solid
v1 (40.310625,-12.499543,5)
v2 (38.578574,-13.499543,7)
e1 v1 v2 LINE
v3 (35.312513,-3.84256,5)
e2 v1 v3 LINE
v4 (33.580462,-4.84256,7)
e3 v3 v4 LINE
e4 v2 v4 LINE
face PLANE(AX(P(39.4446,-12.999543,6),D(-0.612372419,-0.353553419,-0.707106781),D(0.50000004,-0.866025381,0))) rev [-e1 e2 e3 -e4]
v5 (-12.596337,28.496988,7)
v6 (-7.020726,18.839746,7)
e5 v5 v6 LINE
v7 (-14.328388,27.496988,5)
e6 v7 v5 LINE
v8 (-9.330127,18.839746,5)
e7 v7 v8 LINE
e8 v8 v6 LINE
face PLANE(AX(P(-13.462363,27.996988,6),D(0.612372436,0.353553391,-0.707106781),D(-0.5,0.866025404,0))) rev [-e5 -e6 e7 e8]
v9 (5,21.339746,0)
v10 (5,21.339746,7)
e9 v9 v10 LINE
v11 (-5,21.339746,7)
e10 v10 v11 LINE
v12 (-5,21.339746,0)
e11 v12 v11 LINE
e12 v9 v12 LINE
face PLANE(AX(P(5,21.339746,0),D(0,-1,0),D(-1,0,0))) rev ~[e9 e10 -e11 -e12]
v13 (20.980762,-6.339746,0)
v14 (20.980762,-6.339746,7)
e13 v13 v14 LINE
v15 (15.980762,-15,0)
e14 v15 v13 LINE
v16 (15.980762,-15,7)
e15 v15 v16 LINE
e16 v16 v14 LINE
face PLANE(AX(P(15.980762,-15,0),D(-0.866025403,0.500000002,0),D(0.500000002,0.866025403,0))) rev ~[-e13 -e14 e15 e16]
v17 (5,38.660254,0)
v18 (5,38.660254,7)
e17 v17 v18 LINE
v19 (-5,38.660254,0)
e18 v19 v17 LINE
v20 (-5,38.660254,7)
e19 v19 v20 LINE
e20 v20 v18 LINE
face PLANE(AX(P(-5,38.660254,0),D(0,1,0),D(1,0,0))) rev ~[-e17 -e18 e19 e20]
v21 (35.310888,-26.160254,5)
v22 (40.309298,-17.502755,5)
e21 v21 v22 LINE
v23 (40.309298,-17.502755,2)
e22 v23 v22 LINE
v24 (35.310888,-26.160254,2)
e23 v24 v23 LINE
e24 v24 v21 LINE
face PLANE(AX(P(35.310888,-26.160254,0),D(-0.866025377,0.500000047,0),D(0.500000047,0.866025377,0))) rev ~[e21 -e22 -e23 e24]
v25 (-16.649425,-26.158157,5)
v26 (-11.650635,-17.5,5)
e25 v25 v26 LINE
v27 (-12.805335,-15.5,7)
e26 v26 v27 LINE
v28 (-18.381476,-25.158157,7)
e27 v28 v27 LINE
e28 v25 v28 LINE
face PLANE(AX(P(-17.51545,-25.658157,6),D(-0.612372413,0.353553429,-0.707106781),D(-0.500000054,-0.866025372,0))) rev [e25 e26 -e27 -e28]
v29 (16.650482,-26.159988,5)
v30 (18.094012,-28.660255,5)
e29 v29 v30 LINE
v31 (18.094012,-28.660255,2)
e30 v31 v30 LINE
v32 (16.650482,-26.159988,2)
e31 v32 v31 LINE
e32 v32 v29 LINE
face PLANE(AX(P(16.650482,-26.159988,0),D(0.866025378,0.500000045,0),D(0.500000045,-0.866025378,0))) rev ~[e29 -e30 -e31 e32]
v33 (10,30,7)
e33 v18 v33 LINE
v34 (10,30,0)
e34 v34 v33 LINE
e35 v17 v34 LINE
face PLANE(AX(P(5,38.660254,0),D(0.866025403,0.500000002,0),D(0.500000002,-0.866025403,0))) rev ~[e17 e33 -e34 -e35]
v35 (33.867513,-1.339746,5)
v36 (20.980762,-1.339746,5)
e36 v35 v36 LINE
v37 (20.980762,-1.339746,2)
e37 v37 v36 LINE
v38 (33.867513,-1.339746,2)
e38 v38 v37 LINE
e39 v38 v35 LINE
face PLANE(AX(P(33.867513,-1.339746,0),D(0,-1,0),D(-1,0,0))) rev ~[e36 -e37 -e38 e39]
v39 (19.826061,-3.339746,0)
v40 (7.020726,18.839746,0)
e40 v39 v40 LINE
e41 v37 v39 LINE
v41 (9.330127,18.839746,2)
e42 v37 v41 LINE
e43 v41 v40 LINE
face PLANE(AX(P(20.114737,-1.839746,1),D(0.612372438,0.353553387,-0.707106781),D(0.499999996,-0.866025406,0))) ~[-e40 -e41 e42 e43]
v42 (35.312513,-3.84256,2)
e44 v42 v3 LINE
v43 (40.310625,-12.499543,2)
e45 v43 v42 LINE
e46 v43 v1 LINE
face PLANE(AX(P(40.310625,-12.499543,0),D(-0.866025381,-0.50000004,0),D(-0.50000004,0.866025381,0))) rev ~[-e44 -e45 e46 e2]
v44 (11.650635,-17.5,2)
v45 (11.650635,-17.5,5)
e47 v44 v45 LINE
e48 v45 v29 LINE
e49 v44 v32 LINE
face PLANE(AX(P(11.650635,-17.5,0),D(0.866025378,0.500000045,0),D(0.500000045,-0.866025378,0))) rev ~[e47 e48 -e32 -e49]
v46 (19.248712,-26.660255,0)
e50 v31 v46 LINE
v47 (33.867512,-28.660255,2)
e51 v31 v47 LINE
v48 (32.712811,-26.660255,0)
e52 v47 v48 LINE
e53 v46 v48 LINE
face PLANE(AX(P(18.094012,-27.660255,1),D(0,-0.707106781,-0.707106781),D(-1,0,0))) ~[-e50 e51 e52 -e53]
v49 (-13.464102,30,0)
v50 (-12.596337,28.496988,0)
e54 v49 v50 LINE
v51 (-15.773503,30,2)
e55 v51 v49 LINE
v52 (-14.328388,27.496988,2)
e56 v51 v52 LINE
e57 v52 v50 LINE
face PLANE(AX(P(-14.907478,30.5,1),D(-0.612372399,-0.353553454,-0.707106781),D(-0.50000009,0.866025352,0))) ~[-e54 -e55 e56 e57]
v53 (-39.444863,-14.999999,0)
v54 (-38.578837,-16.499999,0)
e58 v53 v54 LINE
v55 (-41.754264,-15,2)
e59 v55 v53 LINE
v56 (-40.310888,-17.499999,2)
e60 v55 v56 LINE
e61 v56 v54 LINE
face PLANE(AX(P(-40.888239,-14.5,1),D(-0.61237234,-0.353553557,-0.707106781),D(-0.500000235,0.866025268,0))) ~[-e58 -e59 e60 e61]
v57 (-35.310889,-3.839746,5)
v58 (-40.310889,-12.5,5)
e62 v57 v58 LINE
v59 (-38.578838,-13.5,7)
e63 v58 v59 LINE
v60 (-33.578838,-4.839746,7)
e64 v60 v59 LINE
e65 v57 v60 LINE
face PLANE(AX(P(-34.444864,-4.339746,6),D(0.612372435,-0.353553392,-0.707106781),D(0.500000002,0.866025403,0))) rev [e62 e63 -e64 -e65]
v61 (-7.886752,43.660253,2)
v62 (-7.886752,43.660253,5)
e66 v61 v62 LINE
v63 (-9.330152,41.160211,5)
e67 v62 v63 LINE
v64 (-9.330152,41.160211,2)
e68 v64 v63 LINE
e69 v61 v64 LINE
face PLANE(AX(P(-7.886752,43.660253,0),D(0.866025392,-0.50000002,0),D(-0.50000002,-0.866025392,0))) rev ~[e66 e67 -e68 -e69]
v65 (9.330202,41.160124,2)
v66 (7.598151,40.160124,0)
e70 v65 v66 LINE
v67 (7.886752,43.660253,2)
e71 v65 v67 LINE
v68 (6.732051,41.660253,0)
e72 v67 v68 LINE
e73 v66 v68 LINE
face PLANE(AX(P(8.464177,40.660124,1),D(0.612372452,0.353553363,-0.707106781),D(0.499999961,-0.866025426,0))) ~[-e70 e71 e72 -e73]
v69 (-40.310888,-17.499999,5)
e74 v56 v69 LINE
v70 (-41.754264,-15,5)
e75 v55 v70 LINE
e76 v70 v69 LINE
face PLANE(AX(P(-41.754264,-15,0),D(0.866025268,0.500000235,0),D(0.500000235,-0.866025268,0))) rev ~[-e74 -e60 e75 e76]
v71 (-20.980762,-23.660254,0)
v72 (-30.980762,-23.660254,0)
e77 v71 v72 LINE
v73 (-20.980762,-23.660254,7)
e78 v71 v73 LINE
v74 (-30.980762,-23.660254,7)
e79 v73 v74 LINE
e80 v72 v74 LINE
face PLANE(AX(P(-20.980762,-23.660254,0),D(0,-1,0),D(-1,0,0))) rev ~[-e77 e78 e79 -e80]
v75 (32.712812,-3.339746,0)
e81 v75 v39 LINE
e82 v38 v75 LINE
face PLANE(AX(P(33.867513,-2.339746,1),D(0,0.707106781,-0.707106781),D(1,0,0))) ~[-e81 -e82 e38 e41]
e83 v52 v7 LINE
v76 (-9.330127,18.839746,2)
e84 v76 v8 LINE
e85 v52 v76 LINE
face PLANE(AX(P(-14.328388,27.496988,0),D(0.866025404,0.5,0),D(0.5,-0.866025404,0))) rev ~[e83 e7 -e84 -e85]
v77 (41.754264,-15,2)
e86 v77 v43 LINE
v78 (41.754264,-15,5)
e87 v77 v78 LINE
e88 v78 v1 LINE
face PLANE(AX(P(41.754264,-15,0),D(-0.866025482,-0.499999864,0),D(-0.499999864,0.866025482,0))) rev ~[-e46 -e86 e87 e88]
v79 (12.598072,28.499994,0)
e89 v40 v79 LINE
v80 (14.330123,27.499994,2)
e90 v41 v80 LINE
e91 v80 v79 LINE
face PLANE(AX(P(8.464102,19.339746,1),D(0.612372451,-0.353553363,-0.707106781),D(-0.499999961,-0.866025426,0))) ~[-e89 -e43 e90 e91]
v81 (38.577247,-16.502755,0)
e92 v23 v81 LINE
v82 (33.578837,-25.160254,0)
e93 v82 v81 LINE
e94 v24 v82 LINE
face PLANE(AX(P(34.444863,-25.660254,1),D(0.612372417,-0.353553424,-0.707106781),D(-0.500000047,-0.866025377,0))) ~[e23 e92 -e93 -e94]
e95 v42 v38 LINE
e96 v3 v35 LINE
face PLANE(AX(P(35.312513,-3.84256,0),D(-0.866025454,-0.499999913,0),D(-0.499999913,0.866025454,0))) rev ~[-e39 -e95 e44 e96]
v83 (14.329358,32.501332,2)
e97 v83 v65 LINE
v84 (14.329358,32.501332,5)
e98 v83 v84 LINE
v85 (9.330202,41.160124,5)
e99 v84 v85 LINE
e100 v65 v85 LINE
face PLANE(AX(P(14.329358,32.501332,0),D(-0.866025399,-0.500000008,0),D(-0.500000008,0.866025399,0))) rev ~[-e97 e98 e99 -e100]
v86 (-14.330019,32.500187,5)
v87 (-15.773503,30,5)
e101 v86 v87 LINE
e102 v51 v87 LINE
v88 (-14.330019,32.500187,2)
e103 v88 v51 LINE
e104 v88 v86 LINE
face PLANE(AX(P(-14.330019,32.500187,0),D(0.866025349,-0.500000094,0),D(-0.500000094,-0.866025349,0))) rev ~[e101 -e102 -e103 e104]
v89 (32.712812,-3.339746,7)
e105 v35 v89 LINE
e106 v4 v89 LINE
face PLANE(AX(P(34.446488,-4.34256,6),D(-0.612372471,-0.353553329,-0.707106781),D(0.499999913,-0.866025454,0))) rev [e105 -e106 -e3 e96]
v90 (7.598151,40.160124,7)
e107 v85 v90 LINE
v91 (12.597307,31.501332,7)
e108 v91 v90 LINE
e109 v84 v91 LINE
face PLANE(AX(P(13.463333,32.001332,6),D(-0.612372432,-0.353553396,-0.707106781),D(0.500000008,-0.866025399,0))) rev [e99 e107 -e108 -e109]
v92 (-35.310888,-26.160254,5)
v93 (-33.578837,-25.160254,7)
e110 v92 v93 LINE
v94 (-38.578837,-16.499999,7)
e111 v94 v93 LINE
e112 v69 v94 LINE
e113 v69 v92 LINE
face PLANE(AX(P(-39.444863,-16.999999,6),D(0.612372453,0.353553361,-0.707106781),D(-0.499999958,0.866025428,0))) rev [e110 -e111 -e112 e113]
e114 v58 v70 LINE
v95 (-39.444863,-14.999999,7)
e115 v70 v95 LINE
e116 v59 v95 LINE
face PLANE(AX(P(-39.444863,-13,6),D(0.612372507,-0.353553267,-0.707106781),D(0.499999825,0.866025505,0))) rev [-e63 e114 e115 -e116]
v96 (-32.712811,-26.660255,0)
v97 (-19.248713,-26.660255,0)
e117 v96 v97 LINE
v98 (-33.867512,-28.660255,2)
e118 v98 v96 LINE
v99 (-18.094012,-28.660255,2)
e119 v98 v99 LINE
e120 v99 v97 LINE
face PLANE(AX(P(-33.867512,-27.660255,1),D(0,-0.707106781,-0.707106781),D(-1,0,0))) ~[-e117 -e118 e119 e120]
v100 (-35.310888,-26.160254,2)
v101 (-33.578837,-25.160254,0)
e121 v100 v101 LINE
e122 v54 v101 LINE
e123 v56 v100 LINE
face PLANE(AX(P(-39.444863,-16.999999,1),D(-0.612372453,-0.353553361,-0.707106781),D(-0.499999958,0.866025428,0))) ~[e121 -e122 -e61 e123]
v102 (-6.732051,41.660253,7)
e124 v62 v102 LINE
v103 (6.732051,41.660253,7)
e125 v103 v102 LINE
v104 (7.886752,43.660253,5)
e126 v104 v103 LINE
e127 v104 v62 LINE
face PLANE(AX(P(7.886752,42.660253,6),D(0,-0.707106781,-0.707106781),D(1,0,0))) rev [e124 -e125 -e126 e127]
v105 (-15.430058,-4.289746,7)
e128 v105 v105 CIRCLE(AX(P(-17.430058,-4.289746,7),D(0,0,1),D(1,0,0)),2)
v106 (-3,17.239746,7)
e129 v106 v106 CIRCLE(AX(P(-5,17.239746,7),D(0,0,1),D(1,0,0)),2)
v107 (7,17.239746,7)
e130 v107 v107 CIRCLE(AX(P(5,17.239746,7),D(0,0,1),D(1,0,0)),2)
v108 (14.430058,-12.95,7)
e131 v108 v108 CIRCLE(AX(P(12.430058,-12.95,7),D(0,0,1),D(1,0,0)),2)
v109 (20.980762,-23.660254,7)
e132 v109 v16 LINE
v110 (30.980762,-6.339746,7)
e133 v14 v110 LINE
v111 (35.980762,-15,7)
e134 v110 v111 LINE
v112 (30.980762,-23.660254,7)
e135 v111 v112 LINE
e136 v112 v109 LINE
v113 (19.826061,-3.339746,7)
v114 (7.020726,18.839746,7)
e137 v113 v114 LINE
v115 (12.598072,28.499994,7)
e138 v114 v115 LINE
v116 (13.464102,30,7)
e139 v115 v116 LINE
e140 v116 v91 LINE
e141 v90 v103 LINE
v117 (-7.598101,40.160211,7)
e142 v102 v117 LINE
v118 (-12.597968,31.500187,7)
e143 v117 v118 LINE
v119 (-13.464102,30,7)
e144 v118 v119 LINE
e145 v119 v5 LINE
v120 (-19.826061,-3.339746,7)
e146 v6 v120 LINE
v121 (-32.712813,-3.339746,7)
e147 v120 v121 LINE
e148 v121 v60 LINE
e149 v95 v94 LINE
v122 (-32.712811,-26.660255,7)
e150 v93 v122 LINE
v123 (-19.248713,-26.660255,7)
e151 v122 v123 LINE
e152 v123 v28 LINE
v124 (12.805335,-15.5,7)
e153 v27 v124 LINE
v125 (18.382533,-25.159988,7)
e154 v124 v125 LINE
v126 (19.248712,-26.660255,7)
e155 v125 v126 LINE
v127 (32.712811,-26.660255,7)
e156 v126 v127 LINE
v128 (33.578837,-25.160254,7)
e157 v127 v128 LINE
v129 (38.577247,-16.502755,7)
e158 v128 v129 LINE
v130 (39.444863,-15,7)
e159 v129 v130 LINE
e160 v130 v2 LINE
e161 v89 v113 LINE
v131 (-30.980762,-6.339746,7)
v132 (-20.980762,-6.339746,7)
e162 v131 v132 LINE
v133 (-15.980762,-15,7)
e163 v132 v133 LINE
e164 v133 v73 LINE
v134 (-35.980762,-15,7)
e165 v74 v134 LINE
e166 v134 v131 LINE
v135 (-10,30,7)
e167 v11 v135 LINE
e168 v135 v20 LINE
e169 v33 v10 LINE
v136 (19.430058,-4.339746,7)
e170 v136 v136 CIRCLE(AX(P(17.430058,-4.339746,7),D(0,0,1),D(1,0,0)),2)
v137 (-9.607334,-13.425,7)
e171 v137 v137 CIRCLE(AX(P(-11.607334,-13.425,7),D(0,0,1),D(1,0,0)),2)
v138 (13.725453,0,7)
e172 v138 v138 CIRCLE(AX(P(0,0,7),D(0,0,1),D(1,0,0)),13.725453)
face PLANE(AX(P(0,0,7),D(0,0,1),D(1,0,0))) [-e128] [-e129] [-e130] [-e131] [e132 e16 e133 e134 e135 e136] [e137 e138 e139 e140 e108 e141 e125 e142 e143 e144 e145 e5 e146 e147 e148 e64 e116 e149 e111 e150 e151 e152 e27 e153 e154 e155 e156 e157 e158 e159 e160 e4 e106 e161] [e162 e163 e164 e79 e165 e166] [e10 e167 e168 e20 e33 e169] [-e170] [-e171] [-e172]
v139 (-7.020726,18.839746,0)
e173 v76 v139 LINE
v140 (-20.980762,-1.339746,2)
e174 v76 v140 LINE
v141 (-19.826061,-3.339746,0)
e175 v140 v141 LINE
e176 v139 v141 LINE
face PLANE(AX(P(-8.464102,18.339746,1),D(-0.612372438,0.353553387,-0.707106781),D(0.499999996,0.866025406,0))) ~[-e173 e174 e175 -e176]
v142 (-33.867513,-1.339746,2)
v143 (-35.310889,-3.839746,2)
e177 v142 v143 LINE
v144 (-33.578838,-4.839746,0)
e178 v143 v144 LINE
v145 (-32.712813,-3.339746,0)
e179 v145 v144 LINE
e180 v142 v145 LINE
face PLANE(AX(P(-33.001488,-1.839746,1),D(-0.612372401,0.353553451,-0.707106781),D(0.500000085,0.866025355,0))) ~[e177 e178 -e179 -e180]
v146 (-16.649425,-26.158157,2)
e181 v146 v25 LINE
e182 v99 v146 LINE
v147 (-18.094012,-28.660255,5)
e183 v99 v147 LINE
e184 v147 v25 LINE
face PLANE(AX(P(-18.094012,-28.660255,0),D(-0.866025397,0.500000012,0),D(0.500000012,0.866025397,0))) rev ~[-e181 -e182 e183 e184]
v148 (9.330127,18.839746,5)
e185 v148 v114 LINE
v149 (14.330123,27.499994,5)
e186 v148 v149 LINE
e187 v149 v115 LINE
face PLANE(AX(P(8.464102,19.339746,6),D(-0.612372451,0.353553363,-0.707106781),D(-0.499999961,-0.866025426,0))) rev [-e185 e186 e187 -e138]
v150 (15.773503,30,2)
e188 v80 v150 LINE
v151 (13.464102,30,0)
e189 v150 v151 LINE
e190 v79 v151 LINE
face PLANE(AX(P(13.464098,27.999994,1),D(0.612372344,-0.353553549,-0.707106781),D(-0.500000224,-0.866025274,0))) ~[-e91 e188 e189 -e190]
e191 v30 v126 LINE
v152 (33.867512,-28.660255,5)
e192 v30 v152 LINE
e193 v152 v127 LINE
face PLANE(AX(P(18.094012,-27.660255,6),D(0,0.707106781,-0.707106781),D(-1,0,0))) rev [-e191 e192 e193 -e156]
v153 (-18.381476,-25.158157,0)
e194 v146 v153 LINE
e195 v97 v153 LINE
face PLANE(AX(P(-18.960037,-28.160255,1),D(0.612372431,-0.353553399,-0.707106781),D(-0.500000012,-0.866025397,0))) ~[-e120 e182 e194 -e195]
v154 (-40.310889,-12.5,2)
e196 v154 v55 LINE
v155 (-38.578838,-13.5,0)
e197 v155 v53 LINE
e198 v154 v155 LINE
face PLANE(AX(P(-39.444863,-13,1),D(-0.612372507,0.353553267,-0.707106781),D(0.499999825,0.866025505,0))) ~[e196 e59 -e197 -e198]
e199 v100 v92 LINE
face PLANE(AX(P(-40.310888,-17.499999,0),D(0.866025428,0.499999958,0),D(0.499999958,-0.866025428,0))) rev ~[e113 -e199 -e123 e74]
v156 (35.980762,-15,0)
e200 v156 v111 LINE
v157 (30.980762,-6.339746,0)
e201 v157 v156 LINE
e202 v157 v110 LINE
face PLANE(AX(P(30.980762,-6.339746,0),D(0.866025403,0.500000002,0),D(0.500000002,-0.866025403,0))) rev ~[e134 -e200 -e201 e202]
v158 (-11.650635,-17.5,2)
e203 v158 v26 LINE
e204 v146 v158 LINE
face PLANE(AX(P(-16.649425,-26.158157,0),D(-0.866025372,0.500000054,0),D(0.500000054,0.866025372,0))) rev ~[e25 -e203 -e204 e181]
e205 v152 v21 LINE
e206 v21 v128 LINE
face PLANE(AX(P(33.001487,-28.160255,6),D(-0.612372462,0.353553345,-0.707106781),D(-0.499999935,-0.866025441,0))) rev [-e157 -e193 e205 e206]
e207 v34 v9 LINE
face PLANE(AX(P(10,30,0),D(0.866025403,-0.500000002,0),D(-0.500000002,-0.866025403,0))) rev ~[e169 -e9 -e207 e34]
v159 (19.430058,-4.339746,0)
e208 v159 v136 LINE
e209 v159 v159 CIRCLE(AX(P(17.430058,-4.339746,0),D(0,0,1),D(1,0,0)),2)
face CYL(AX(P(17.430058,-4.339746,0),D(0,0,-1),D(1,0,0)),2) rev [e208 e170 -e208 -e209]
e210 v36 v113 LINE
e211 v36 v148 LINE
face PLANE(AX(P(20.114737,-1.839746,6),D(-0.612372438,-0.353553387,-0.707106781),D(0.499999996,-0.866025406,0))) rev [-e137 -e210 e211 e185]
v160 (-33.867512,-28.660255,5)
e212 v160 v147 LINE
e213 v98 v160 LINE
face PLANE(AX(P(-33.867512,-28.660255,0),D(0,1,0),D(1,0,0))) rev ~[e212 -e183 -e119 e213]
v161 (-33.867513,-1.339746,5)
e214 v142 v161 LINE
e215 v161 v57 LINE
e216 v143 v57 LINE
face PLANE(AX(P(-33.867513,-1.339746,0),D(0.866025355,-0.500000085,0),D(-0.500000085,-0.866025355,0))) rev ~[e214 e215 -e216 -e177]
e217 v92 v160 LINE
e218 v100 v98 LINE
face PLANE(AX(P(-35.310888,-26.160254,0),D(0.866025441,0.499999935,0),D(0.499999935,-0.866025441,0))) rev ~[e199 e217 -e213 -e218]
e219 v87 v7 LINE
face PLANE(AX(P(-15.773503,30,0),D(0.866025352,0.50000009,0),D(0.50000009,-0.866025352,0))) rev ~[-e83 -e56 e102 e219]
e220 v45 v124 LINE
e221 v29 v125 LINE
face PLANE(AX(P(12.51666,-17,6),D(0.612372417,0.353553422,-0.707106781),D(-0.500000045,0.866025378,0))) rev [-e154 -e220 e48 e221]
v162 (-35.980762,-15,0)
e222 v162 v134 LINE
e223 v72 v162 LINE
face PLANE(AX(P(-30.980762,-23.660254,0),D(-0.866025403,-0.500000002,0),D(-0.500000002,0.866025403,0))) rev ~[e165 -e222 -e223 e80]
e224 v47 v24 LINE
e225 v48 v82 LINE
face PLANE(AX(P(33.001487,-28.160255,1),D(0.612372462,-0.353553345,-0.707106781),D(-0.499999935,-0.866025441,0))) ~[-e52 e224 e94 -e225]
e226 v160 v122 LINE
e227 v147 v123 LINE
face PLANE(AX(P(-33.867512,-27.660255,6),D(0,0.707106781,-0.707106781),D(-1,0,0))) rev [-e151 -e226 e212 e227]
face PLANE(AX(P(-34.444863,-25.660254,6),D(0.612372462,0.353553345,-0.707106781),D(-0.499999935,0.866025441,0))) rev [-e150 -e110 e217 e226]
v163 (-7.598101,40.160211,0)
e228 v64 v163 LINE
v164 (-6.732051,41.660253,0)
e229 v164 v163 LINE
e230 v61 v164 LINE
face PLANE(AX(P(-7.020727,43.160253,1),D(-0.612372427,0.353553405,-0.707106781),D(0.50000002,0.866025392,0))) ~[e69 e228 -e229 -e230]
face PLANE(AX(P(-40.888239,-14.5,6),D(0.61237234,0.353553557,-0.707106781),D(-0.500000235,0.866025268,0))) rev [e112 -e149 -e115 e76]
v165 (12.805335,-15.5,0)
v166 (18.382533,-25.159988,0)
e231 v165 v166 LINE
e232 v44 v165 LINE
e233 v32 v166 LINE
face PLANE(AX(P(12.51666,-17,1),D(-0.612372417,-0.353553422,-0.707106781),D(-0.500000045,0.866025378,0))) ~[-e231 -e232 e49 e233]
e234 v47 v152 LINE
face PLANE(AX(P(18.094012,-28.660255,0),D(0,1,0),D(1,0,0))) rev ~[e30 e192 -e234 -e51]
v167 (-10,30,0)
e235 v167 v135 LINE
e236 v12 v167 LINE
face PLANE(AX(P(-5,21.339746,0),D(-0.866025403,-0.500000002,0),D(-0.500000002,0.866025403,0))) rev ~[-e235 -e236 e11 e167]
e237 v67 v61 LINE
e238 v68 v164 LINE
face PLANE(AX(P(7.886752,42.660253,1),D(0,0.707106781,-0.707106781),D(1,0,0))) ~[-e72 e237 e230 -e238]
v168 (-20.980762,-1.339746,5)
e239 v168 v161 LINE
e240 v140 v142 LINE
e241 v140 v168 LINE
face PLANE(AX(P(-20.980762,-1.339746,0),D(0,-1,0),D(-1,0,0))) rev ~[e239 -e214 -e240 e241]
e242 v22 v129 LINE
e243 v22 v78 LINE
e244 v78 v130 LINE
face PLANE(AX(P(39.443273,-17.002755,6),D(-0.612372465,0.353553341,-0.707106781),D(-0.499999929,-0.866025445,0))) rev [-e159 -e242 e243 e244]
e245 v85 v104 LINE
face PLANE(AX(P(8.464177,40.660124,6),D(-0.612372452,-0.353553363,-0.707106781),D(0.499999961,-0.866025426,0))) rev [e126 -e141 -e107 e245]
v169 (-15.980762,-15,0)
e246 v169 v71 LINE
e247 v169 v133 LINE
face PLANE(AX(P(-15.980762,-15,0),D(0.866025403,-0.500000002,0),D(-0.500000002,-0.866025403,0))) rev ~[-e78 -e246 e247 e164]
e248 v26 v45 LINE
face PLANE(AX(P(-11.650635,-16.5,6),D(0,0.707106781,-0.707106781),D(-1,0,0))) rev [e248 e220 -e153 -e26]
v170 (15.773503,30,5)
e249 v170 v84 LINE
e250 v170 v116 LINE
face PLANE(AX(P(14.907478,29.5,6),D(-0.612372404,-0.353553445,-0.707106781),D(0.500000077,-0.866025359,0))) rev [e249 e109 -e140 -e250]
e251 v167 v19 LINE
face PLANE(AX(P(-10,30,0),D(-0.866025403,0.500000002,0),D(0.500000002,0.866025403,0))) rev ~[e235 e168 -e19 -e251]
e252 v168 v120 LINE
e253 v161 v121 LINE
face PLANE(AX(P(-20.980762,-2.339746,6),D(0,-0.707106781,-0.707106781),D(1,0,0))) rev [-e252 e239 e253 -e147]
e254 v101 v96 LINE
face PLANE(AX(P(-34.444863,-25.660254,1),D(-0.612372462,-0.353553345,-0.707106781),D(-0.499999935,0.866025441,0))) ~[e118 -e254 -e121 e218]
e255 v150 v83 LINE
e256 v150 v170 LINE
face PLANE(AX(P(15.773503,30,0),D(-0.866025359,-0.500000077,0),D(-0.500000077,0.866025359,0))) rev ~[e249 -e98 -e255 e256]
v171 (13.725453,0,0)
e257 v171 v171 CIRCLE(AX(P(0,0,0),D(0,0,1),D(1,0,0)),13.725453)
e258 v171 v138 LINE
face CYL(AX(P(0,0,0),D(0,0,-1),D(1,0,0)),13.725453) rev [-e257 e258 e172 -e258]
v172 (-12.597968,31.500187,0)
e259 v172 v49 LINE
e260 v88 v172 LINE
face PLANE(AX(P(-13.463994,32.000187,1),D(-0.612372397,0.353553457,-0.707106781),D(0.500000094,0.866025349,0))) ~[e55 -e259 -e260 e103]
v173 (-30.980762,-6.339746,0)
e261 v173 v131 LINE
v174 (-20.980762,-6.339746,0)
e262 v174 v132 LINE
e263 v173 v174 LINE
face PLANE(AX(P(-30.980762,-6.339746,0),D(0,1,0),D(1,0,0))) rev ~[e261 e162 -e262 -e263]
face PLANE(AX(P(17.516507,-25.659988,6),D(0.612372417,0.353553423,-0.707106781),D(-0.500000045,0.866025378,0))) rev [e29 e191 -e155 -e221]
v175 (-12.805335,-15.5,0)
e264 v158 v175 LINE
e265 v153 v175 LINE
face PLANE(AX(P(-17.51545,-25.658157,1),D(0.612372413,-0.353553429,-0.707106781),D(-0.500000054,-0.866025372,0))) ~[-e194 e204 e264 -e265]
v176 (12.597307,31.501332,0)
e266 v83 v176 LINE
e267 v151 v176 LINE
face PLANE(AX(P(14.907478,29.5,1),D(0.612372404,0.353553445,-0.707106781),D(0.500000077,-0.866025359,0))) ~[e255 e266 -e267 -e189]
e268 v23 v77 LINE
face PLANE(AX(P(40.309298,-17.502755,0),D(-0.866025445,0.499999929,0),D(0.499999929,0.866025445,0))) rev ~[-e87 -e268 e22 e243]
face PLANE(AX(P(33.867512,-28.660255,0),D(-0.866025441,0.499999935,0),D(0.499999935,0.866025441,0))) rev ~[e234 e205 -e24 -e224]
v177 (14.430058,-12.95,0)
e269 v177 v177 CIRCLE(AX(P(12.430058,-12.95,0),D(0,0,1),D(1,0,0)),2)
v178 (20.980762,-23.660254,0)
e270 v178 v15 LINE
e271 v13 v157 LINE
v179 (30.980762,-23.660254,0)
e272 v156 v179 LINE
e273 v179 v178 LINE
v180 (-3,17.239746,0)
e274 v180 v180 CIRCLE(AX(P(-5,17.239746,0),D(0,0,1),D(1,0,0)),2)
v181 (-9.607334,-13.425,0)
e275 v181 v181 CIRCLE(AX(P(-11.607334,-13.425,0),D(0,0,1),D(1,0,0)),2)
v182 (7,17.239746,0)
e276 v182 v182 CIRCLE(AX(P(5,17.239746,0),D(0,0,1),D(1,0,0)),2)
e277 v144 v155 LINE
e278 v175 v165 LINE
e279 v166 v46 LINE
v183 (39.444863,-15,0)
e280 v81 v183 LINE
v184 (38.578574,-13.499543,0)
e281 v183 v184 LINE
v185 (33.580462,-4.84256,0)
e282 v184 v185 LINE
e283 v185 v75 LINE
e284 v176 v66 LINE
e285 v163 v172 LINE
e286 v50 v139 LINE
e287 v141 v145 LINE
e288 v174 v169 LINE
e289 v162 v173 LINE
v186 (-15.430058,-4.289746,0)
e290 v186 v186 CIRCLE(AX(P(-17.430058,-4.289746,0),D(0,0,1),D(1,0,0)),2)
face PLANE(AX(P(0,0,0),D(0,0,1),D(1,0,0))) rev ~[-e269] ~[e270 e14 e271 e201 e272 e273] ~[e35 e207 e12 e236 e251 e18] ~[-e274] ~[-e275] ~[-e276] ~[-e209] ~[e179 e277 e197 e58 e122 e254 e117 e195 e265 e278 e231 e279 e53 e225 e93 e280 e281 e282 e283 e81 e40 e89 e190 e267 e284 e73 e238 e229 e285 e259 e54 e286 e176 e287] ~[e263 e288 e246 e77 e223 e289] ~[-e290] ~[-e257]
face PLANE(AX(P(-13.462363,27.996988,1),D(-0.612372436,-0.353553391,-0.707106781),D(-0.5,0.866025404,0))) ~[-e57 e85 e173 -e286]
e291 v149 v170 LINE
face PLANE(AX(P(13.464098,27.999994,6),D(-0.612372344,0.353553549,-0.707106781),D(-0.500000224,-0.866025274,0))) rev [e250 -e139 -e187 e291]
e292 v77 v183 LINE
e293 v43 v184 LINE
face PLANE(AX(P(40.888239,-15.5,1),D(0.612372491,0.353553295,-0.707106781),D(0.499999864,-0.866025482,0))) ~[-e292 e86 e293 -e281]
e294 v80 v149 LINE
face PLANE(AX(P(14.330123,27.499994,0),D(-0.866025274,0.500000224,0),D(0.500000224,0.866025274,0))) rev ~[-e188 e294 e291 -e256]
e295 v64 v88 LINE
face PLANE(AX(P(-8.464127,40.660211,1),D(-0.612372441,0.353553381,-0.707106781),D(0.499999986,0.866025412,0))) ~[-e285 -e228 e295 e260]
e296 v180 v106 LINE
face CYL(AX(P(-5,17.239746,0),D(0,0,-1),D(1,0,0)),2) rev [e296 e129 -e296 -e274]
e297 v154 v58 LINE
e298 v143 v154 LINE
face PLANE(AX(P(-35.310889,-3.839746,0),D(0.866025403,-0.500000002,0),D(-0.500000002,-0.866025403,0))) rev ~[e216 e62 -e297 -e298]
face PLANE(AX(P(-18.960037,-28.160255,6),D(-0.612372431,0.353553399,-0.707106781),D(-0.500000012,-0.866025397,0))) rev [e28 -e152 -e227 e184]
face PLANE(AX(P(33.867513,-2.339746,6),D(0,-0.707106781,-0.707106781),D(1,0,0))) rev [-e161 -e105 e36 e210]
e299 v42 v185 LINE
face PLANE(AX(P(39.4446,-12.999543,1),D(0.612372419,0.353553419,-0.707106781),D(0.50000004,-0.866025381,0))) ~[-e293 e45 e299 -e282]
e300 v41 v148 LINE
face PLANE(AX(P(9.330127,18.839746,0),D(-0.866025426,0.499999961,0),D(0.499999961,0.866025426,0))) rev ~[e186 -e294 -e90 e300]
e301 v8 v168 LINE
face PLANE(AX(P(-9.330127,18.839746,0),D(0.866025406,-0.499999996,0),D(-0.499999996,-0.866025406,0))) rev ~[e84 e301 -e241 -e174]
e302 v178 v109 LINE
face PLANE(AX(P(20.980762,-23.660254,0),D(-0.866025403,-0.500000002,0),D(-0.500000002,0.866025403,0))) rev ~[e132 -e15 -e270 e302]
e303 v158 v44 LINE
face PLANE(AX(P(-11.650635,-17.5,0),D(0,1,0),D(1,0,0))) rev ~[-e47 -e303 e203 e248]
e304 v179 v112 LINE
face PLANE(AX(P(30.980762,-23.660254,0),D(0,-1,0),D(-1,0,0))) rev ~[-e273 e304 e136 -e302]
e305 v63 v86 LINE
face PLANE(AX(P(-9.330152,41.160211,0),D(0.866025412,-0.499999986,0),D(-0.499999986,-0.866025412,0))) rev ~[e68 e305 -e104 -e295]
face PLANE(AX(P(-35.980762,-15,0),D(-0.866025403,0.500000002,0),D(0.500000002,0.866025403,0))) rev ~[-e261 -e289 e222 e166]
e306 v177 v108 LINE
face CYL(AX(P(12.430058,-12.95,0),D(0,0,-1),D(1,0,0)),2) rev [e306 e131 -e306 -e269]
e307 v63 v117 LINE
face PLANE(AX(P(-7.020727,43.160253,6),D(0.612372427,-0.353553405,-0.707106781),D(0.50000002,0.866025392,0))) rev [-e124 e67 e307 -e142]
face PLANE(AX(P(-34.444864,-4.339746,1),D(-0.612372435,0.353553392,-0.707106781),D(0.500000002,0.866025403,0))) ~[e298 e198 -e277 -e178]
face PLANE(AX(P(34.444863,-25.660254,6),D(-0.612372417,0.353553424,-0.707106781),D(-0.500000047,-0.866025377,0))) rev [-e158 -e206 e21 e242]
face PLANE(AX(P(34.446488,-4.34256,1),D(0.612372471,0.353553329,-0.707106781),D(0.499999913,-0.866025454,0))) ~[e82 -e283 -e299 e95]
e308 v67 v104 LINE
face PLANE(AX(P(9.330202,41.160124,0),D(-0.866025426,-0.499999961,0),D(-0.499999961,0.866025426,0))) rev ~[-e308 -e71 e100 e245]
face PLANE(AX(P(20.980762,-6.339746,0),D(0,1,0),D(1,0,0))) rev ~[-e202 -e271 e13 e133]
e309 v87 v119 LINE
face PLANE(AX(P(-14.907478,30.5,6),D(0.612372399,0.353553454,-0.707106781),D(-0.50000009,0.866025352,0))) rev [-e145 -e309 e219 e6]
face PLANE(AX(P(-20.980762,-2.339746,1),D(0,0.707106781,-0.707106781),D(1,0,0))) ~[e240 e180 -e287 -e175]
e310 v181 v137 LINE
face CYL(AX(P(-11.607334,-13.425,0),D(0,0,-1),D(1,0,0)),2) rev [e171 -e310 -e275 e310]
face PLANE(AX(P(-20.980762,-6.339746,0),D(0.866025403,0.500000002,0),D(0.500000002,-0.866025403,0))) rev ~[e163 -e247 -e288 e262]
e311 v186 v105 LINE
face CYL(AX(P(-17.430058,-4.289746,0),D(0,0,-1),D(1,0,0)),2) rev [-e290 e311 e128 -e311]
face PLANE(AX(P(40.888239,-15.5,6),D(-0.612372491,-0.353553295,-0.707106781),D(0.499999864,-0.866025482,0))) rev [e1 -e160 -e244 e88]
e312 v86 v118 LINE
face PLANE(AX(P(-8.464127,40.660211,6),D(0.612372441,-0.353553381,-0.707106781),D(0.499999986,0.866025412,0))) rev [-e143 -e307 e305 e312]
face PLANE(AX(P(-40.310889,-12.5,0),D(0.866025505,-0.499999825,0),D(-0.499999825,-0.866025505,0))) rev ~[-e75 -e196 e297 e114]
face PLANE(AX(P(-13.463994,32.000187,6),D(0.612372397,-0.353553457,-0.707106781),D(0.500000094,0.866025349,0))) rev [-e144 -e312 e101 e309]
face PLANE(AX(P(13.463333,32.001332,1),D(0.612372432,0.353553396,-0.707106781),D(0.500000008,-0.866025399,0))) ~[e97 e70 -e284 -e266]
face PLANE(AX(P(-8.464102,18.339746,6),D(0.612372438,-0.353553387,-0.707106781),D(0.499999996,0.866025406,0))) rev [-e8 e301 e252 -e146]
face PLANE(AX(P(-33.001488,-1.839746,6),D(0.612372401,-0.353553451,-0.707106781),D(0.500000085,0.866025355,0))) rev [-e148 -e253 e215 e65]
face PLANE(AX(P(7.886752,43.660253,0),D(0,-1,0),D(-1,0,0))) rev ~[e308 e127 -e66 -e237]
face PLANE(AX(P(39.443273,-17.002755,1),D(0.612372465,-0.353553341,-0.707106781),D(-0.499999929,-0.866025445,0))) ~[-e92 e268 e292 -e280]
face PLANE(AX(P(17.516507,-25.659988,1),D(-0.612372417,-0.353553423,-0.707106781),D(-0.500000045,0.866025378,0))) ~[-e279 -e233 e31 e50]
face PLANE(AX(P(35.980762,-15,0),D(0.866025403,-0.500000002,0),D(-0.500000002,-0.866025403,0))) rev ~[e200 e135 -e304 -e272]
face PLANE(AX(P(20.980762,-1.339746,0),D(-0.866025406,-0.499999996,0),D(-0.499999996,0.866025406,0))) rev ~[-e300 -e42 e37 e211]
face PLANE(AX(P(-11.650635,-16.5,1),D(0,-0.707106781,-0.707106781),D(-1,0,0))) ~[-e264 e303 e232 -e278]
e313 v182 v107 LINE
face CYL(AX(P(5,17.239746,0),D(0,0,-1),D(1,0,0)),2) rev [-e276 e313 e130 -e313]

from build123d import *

# Parameters (mm, degrees)
F0_R     = 2
F0_R_2   = 13.725453
F1_DEPTH = 7
F2_SIZE  = 2


with BuildPart() as f1:
    # F0 (on Top) → F1 (new body)
    with BuildSketch(Plane.XY):
        Polygon((5, 43.660253), (-5, 43.660253), (-7.886752, 43.660253), (-9.330152, 41.160211), (-14.330019, 32.500187), (-15.773503, 30), (-14.328388, 27.496988), (-9.330127, 18.839746), (-20.980762, -1.339746), (-30.980762, -1.339746), (-33.867513, -1.339746), (-35.310889, -3.839746), (-40.310889, -12.5), (-41.754264, -15), (-40.310888, -17.499999), (-35.310888, -26.160254), (-33.867512, -28.660255), (-30.980762, -28.660255), (-20.980762, -28.660255), (-18.094012, -28.660255), (-16.649425, -26.158157), (-11.650635, -17.5), (11.650635, -17.5), (16.650482, -26.159988), (18.094012, -28.660255), (20.980762, -28.660255), (30.980762, -28.660255), (33.867512, -28.660255), (35.310888, -26.160254), (40.309298, -17.502755), (41.754264, -15), (40.310625, -12.499543), (35.312513, -3.84256), (33.867513, -1.339746), (30.980762, -1.339746), (20.980762, -1.339746), (9.330127, 18.839746), (14.330123, 27.499994), (15.773503, 30), (14.329358, 32.501332), (9.330202, 41.160124), (7.886752, 43.660253), align=None)
        Polygon((-30.980762, -6.339746), (-20.980762, -6.339746), (-15.980762, -15), (-20.980762, -23.660254), (-30.980762, -23.660254), (-35.980762, -15), align=None, mode=Mode.SUBTRACT)
        with Locations((-11.607334, -13.425)):
            Circle(F0_R, mode=Mode.SUBTRACT)
        with Locations((-17.430058, -4.289746)):
            Circle(F0_R, mode=Mode.SUBTRACT)
        Circle(F0_R_2, mode=Mode.SUBTRACT)
        with Locations((12.430058, -12.95)):
            Circle(F0_R, mode=Mode.SUBTRACT)
        Polygon((20.980762, -23.660254), (15.980762, -15), (20.980762, -6.339746), (30.980762, -6.339746), (35.980762, -15), (30.980762, -23.660254), align=None, mode=Mode.SUBTRACT)
        with Locations((17.430058, -4.339746)):
            Circle(F0_R, mode=Mode.SUBTRACT)
        with Locations((-5, 17.239746)):
            Circle(F0_R, mode=Mode.SUBTRACT)
        Polygon((10, 30), (5, 21.339746), (-5, 21.339746), (-10, 30), (-5, 38.660254), (5, 38.660254), align=None, mode=Mode.SUBTRACT)
        with Locations((5, 17.239746)):
            Circle(F0_R, mode=Mode.SUBTRACT)
    extrude(amount=F1_DEPTH)

    # F2
    f2_edges = [f1.edges().sort_by_distance(p)[0] for p in [
        (-11.830127, 36.830127, 7),
        (0, 43.660253, 7),
        (-12.551815, 24.419873, 7),
        (11.830127, 36.830127, 7),
        (12.551815, 24.419873, 7),
        (15.155444, 8.75, 7),
        (27.424137, -1.339746, 7),
        (37.810888, -8.169873, 7),
        (37.810888, -21.830127, 7),
        (25.980762, -28.660255, 7),
        (14.872323, -23.080127, 7),
        (0, -17.5, 7),
        (-14.872323, -23.080127, 7),
        (-25.980762, -28.660255, 7),
        (-37.810888, -21.830127, 7),
        (-37.810888, -8.169873, 7),
        (-27.424137, -1.339746, 7),
        (-15.155444, 8.75, 7),
        (-27.424137, -1.339746, 0),
        (-37.810888, -8.169873, 0),
        (-37.810888, -21.830127, 0),
        (-25.980762, -28.660255, 0),
        (-14.872323, -23.080127, 0),
        (0, -17.5, 0),
        (14.872323, -23.080127, 0),
        (25.980762, -28.660255, 0),
        (37.810888, -21.830127, 0),
        (37.810888, -8.169873, 0),
        (27.424137, -1.339746, 0),
        (15.155444, 8.75, 0),
        (12.551815, 24.419873, 0),
        (11.830127, 36.830127, 0),
        (0, 43.660253, 0),
        (-11.830127, 36.830127, 0),
        (-12.551815, 24.419873, 0),
        (-15.155444, 8.75, 0),
    ]]
    chamfer(f2_edges, length=F2_SIZE)


solid = f1.part
